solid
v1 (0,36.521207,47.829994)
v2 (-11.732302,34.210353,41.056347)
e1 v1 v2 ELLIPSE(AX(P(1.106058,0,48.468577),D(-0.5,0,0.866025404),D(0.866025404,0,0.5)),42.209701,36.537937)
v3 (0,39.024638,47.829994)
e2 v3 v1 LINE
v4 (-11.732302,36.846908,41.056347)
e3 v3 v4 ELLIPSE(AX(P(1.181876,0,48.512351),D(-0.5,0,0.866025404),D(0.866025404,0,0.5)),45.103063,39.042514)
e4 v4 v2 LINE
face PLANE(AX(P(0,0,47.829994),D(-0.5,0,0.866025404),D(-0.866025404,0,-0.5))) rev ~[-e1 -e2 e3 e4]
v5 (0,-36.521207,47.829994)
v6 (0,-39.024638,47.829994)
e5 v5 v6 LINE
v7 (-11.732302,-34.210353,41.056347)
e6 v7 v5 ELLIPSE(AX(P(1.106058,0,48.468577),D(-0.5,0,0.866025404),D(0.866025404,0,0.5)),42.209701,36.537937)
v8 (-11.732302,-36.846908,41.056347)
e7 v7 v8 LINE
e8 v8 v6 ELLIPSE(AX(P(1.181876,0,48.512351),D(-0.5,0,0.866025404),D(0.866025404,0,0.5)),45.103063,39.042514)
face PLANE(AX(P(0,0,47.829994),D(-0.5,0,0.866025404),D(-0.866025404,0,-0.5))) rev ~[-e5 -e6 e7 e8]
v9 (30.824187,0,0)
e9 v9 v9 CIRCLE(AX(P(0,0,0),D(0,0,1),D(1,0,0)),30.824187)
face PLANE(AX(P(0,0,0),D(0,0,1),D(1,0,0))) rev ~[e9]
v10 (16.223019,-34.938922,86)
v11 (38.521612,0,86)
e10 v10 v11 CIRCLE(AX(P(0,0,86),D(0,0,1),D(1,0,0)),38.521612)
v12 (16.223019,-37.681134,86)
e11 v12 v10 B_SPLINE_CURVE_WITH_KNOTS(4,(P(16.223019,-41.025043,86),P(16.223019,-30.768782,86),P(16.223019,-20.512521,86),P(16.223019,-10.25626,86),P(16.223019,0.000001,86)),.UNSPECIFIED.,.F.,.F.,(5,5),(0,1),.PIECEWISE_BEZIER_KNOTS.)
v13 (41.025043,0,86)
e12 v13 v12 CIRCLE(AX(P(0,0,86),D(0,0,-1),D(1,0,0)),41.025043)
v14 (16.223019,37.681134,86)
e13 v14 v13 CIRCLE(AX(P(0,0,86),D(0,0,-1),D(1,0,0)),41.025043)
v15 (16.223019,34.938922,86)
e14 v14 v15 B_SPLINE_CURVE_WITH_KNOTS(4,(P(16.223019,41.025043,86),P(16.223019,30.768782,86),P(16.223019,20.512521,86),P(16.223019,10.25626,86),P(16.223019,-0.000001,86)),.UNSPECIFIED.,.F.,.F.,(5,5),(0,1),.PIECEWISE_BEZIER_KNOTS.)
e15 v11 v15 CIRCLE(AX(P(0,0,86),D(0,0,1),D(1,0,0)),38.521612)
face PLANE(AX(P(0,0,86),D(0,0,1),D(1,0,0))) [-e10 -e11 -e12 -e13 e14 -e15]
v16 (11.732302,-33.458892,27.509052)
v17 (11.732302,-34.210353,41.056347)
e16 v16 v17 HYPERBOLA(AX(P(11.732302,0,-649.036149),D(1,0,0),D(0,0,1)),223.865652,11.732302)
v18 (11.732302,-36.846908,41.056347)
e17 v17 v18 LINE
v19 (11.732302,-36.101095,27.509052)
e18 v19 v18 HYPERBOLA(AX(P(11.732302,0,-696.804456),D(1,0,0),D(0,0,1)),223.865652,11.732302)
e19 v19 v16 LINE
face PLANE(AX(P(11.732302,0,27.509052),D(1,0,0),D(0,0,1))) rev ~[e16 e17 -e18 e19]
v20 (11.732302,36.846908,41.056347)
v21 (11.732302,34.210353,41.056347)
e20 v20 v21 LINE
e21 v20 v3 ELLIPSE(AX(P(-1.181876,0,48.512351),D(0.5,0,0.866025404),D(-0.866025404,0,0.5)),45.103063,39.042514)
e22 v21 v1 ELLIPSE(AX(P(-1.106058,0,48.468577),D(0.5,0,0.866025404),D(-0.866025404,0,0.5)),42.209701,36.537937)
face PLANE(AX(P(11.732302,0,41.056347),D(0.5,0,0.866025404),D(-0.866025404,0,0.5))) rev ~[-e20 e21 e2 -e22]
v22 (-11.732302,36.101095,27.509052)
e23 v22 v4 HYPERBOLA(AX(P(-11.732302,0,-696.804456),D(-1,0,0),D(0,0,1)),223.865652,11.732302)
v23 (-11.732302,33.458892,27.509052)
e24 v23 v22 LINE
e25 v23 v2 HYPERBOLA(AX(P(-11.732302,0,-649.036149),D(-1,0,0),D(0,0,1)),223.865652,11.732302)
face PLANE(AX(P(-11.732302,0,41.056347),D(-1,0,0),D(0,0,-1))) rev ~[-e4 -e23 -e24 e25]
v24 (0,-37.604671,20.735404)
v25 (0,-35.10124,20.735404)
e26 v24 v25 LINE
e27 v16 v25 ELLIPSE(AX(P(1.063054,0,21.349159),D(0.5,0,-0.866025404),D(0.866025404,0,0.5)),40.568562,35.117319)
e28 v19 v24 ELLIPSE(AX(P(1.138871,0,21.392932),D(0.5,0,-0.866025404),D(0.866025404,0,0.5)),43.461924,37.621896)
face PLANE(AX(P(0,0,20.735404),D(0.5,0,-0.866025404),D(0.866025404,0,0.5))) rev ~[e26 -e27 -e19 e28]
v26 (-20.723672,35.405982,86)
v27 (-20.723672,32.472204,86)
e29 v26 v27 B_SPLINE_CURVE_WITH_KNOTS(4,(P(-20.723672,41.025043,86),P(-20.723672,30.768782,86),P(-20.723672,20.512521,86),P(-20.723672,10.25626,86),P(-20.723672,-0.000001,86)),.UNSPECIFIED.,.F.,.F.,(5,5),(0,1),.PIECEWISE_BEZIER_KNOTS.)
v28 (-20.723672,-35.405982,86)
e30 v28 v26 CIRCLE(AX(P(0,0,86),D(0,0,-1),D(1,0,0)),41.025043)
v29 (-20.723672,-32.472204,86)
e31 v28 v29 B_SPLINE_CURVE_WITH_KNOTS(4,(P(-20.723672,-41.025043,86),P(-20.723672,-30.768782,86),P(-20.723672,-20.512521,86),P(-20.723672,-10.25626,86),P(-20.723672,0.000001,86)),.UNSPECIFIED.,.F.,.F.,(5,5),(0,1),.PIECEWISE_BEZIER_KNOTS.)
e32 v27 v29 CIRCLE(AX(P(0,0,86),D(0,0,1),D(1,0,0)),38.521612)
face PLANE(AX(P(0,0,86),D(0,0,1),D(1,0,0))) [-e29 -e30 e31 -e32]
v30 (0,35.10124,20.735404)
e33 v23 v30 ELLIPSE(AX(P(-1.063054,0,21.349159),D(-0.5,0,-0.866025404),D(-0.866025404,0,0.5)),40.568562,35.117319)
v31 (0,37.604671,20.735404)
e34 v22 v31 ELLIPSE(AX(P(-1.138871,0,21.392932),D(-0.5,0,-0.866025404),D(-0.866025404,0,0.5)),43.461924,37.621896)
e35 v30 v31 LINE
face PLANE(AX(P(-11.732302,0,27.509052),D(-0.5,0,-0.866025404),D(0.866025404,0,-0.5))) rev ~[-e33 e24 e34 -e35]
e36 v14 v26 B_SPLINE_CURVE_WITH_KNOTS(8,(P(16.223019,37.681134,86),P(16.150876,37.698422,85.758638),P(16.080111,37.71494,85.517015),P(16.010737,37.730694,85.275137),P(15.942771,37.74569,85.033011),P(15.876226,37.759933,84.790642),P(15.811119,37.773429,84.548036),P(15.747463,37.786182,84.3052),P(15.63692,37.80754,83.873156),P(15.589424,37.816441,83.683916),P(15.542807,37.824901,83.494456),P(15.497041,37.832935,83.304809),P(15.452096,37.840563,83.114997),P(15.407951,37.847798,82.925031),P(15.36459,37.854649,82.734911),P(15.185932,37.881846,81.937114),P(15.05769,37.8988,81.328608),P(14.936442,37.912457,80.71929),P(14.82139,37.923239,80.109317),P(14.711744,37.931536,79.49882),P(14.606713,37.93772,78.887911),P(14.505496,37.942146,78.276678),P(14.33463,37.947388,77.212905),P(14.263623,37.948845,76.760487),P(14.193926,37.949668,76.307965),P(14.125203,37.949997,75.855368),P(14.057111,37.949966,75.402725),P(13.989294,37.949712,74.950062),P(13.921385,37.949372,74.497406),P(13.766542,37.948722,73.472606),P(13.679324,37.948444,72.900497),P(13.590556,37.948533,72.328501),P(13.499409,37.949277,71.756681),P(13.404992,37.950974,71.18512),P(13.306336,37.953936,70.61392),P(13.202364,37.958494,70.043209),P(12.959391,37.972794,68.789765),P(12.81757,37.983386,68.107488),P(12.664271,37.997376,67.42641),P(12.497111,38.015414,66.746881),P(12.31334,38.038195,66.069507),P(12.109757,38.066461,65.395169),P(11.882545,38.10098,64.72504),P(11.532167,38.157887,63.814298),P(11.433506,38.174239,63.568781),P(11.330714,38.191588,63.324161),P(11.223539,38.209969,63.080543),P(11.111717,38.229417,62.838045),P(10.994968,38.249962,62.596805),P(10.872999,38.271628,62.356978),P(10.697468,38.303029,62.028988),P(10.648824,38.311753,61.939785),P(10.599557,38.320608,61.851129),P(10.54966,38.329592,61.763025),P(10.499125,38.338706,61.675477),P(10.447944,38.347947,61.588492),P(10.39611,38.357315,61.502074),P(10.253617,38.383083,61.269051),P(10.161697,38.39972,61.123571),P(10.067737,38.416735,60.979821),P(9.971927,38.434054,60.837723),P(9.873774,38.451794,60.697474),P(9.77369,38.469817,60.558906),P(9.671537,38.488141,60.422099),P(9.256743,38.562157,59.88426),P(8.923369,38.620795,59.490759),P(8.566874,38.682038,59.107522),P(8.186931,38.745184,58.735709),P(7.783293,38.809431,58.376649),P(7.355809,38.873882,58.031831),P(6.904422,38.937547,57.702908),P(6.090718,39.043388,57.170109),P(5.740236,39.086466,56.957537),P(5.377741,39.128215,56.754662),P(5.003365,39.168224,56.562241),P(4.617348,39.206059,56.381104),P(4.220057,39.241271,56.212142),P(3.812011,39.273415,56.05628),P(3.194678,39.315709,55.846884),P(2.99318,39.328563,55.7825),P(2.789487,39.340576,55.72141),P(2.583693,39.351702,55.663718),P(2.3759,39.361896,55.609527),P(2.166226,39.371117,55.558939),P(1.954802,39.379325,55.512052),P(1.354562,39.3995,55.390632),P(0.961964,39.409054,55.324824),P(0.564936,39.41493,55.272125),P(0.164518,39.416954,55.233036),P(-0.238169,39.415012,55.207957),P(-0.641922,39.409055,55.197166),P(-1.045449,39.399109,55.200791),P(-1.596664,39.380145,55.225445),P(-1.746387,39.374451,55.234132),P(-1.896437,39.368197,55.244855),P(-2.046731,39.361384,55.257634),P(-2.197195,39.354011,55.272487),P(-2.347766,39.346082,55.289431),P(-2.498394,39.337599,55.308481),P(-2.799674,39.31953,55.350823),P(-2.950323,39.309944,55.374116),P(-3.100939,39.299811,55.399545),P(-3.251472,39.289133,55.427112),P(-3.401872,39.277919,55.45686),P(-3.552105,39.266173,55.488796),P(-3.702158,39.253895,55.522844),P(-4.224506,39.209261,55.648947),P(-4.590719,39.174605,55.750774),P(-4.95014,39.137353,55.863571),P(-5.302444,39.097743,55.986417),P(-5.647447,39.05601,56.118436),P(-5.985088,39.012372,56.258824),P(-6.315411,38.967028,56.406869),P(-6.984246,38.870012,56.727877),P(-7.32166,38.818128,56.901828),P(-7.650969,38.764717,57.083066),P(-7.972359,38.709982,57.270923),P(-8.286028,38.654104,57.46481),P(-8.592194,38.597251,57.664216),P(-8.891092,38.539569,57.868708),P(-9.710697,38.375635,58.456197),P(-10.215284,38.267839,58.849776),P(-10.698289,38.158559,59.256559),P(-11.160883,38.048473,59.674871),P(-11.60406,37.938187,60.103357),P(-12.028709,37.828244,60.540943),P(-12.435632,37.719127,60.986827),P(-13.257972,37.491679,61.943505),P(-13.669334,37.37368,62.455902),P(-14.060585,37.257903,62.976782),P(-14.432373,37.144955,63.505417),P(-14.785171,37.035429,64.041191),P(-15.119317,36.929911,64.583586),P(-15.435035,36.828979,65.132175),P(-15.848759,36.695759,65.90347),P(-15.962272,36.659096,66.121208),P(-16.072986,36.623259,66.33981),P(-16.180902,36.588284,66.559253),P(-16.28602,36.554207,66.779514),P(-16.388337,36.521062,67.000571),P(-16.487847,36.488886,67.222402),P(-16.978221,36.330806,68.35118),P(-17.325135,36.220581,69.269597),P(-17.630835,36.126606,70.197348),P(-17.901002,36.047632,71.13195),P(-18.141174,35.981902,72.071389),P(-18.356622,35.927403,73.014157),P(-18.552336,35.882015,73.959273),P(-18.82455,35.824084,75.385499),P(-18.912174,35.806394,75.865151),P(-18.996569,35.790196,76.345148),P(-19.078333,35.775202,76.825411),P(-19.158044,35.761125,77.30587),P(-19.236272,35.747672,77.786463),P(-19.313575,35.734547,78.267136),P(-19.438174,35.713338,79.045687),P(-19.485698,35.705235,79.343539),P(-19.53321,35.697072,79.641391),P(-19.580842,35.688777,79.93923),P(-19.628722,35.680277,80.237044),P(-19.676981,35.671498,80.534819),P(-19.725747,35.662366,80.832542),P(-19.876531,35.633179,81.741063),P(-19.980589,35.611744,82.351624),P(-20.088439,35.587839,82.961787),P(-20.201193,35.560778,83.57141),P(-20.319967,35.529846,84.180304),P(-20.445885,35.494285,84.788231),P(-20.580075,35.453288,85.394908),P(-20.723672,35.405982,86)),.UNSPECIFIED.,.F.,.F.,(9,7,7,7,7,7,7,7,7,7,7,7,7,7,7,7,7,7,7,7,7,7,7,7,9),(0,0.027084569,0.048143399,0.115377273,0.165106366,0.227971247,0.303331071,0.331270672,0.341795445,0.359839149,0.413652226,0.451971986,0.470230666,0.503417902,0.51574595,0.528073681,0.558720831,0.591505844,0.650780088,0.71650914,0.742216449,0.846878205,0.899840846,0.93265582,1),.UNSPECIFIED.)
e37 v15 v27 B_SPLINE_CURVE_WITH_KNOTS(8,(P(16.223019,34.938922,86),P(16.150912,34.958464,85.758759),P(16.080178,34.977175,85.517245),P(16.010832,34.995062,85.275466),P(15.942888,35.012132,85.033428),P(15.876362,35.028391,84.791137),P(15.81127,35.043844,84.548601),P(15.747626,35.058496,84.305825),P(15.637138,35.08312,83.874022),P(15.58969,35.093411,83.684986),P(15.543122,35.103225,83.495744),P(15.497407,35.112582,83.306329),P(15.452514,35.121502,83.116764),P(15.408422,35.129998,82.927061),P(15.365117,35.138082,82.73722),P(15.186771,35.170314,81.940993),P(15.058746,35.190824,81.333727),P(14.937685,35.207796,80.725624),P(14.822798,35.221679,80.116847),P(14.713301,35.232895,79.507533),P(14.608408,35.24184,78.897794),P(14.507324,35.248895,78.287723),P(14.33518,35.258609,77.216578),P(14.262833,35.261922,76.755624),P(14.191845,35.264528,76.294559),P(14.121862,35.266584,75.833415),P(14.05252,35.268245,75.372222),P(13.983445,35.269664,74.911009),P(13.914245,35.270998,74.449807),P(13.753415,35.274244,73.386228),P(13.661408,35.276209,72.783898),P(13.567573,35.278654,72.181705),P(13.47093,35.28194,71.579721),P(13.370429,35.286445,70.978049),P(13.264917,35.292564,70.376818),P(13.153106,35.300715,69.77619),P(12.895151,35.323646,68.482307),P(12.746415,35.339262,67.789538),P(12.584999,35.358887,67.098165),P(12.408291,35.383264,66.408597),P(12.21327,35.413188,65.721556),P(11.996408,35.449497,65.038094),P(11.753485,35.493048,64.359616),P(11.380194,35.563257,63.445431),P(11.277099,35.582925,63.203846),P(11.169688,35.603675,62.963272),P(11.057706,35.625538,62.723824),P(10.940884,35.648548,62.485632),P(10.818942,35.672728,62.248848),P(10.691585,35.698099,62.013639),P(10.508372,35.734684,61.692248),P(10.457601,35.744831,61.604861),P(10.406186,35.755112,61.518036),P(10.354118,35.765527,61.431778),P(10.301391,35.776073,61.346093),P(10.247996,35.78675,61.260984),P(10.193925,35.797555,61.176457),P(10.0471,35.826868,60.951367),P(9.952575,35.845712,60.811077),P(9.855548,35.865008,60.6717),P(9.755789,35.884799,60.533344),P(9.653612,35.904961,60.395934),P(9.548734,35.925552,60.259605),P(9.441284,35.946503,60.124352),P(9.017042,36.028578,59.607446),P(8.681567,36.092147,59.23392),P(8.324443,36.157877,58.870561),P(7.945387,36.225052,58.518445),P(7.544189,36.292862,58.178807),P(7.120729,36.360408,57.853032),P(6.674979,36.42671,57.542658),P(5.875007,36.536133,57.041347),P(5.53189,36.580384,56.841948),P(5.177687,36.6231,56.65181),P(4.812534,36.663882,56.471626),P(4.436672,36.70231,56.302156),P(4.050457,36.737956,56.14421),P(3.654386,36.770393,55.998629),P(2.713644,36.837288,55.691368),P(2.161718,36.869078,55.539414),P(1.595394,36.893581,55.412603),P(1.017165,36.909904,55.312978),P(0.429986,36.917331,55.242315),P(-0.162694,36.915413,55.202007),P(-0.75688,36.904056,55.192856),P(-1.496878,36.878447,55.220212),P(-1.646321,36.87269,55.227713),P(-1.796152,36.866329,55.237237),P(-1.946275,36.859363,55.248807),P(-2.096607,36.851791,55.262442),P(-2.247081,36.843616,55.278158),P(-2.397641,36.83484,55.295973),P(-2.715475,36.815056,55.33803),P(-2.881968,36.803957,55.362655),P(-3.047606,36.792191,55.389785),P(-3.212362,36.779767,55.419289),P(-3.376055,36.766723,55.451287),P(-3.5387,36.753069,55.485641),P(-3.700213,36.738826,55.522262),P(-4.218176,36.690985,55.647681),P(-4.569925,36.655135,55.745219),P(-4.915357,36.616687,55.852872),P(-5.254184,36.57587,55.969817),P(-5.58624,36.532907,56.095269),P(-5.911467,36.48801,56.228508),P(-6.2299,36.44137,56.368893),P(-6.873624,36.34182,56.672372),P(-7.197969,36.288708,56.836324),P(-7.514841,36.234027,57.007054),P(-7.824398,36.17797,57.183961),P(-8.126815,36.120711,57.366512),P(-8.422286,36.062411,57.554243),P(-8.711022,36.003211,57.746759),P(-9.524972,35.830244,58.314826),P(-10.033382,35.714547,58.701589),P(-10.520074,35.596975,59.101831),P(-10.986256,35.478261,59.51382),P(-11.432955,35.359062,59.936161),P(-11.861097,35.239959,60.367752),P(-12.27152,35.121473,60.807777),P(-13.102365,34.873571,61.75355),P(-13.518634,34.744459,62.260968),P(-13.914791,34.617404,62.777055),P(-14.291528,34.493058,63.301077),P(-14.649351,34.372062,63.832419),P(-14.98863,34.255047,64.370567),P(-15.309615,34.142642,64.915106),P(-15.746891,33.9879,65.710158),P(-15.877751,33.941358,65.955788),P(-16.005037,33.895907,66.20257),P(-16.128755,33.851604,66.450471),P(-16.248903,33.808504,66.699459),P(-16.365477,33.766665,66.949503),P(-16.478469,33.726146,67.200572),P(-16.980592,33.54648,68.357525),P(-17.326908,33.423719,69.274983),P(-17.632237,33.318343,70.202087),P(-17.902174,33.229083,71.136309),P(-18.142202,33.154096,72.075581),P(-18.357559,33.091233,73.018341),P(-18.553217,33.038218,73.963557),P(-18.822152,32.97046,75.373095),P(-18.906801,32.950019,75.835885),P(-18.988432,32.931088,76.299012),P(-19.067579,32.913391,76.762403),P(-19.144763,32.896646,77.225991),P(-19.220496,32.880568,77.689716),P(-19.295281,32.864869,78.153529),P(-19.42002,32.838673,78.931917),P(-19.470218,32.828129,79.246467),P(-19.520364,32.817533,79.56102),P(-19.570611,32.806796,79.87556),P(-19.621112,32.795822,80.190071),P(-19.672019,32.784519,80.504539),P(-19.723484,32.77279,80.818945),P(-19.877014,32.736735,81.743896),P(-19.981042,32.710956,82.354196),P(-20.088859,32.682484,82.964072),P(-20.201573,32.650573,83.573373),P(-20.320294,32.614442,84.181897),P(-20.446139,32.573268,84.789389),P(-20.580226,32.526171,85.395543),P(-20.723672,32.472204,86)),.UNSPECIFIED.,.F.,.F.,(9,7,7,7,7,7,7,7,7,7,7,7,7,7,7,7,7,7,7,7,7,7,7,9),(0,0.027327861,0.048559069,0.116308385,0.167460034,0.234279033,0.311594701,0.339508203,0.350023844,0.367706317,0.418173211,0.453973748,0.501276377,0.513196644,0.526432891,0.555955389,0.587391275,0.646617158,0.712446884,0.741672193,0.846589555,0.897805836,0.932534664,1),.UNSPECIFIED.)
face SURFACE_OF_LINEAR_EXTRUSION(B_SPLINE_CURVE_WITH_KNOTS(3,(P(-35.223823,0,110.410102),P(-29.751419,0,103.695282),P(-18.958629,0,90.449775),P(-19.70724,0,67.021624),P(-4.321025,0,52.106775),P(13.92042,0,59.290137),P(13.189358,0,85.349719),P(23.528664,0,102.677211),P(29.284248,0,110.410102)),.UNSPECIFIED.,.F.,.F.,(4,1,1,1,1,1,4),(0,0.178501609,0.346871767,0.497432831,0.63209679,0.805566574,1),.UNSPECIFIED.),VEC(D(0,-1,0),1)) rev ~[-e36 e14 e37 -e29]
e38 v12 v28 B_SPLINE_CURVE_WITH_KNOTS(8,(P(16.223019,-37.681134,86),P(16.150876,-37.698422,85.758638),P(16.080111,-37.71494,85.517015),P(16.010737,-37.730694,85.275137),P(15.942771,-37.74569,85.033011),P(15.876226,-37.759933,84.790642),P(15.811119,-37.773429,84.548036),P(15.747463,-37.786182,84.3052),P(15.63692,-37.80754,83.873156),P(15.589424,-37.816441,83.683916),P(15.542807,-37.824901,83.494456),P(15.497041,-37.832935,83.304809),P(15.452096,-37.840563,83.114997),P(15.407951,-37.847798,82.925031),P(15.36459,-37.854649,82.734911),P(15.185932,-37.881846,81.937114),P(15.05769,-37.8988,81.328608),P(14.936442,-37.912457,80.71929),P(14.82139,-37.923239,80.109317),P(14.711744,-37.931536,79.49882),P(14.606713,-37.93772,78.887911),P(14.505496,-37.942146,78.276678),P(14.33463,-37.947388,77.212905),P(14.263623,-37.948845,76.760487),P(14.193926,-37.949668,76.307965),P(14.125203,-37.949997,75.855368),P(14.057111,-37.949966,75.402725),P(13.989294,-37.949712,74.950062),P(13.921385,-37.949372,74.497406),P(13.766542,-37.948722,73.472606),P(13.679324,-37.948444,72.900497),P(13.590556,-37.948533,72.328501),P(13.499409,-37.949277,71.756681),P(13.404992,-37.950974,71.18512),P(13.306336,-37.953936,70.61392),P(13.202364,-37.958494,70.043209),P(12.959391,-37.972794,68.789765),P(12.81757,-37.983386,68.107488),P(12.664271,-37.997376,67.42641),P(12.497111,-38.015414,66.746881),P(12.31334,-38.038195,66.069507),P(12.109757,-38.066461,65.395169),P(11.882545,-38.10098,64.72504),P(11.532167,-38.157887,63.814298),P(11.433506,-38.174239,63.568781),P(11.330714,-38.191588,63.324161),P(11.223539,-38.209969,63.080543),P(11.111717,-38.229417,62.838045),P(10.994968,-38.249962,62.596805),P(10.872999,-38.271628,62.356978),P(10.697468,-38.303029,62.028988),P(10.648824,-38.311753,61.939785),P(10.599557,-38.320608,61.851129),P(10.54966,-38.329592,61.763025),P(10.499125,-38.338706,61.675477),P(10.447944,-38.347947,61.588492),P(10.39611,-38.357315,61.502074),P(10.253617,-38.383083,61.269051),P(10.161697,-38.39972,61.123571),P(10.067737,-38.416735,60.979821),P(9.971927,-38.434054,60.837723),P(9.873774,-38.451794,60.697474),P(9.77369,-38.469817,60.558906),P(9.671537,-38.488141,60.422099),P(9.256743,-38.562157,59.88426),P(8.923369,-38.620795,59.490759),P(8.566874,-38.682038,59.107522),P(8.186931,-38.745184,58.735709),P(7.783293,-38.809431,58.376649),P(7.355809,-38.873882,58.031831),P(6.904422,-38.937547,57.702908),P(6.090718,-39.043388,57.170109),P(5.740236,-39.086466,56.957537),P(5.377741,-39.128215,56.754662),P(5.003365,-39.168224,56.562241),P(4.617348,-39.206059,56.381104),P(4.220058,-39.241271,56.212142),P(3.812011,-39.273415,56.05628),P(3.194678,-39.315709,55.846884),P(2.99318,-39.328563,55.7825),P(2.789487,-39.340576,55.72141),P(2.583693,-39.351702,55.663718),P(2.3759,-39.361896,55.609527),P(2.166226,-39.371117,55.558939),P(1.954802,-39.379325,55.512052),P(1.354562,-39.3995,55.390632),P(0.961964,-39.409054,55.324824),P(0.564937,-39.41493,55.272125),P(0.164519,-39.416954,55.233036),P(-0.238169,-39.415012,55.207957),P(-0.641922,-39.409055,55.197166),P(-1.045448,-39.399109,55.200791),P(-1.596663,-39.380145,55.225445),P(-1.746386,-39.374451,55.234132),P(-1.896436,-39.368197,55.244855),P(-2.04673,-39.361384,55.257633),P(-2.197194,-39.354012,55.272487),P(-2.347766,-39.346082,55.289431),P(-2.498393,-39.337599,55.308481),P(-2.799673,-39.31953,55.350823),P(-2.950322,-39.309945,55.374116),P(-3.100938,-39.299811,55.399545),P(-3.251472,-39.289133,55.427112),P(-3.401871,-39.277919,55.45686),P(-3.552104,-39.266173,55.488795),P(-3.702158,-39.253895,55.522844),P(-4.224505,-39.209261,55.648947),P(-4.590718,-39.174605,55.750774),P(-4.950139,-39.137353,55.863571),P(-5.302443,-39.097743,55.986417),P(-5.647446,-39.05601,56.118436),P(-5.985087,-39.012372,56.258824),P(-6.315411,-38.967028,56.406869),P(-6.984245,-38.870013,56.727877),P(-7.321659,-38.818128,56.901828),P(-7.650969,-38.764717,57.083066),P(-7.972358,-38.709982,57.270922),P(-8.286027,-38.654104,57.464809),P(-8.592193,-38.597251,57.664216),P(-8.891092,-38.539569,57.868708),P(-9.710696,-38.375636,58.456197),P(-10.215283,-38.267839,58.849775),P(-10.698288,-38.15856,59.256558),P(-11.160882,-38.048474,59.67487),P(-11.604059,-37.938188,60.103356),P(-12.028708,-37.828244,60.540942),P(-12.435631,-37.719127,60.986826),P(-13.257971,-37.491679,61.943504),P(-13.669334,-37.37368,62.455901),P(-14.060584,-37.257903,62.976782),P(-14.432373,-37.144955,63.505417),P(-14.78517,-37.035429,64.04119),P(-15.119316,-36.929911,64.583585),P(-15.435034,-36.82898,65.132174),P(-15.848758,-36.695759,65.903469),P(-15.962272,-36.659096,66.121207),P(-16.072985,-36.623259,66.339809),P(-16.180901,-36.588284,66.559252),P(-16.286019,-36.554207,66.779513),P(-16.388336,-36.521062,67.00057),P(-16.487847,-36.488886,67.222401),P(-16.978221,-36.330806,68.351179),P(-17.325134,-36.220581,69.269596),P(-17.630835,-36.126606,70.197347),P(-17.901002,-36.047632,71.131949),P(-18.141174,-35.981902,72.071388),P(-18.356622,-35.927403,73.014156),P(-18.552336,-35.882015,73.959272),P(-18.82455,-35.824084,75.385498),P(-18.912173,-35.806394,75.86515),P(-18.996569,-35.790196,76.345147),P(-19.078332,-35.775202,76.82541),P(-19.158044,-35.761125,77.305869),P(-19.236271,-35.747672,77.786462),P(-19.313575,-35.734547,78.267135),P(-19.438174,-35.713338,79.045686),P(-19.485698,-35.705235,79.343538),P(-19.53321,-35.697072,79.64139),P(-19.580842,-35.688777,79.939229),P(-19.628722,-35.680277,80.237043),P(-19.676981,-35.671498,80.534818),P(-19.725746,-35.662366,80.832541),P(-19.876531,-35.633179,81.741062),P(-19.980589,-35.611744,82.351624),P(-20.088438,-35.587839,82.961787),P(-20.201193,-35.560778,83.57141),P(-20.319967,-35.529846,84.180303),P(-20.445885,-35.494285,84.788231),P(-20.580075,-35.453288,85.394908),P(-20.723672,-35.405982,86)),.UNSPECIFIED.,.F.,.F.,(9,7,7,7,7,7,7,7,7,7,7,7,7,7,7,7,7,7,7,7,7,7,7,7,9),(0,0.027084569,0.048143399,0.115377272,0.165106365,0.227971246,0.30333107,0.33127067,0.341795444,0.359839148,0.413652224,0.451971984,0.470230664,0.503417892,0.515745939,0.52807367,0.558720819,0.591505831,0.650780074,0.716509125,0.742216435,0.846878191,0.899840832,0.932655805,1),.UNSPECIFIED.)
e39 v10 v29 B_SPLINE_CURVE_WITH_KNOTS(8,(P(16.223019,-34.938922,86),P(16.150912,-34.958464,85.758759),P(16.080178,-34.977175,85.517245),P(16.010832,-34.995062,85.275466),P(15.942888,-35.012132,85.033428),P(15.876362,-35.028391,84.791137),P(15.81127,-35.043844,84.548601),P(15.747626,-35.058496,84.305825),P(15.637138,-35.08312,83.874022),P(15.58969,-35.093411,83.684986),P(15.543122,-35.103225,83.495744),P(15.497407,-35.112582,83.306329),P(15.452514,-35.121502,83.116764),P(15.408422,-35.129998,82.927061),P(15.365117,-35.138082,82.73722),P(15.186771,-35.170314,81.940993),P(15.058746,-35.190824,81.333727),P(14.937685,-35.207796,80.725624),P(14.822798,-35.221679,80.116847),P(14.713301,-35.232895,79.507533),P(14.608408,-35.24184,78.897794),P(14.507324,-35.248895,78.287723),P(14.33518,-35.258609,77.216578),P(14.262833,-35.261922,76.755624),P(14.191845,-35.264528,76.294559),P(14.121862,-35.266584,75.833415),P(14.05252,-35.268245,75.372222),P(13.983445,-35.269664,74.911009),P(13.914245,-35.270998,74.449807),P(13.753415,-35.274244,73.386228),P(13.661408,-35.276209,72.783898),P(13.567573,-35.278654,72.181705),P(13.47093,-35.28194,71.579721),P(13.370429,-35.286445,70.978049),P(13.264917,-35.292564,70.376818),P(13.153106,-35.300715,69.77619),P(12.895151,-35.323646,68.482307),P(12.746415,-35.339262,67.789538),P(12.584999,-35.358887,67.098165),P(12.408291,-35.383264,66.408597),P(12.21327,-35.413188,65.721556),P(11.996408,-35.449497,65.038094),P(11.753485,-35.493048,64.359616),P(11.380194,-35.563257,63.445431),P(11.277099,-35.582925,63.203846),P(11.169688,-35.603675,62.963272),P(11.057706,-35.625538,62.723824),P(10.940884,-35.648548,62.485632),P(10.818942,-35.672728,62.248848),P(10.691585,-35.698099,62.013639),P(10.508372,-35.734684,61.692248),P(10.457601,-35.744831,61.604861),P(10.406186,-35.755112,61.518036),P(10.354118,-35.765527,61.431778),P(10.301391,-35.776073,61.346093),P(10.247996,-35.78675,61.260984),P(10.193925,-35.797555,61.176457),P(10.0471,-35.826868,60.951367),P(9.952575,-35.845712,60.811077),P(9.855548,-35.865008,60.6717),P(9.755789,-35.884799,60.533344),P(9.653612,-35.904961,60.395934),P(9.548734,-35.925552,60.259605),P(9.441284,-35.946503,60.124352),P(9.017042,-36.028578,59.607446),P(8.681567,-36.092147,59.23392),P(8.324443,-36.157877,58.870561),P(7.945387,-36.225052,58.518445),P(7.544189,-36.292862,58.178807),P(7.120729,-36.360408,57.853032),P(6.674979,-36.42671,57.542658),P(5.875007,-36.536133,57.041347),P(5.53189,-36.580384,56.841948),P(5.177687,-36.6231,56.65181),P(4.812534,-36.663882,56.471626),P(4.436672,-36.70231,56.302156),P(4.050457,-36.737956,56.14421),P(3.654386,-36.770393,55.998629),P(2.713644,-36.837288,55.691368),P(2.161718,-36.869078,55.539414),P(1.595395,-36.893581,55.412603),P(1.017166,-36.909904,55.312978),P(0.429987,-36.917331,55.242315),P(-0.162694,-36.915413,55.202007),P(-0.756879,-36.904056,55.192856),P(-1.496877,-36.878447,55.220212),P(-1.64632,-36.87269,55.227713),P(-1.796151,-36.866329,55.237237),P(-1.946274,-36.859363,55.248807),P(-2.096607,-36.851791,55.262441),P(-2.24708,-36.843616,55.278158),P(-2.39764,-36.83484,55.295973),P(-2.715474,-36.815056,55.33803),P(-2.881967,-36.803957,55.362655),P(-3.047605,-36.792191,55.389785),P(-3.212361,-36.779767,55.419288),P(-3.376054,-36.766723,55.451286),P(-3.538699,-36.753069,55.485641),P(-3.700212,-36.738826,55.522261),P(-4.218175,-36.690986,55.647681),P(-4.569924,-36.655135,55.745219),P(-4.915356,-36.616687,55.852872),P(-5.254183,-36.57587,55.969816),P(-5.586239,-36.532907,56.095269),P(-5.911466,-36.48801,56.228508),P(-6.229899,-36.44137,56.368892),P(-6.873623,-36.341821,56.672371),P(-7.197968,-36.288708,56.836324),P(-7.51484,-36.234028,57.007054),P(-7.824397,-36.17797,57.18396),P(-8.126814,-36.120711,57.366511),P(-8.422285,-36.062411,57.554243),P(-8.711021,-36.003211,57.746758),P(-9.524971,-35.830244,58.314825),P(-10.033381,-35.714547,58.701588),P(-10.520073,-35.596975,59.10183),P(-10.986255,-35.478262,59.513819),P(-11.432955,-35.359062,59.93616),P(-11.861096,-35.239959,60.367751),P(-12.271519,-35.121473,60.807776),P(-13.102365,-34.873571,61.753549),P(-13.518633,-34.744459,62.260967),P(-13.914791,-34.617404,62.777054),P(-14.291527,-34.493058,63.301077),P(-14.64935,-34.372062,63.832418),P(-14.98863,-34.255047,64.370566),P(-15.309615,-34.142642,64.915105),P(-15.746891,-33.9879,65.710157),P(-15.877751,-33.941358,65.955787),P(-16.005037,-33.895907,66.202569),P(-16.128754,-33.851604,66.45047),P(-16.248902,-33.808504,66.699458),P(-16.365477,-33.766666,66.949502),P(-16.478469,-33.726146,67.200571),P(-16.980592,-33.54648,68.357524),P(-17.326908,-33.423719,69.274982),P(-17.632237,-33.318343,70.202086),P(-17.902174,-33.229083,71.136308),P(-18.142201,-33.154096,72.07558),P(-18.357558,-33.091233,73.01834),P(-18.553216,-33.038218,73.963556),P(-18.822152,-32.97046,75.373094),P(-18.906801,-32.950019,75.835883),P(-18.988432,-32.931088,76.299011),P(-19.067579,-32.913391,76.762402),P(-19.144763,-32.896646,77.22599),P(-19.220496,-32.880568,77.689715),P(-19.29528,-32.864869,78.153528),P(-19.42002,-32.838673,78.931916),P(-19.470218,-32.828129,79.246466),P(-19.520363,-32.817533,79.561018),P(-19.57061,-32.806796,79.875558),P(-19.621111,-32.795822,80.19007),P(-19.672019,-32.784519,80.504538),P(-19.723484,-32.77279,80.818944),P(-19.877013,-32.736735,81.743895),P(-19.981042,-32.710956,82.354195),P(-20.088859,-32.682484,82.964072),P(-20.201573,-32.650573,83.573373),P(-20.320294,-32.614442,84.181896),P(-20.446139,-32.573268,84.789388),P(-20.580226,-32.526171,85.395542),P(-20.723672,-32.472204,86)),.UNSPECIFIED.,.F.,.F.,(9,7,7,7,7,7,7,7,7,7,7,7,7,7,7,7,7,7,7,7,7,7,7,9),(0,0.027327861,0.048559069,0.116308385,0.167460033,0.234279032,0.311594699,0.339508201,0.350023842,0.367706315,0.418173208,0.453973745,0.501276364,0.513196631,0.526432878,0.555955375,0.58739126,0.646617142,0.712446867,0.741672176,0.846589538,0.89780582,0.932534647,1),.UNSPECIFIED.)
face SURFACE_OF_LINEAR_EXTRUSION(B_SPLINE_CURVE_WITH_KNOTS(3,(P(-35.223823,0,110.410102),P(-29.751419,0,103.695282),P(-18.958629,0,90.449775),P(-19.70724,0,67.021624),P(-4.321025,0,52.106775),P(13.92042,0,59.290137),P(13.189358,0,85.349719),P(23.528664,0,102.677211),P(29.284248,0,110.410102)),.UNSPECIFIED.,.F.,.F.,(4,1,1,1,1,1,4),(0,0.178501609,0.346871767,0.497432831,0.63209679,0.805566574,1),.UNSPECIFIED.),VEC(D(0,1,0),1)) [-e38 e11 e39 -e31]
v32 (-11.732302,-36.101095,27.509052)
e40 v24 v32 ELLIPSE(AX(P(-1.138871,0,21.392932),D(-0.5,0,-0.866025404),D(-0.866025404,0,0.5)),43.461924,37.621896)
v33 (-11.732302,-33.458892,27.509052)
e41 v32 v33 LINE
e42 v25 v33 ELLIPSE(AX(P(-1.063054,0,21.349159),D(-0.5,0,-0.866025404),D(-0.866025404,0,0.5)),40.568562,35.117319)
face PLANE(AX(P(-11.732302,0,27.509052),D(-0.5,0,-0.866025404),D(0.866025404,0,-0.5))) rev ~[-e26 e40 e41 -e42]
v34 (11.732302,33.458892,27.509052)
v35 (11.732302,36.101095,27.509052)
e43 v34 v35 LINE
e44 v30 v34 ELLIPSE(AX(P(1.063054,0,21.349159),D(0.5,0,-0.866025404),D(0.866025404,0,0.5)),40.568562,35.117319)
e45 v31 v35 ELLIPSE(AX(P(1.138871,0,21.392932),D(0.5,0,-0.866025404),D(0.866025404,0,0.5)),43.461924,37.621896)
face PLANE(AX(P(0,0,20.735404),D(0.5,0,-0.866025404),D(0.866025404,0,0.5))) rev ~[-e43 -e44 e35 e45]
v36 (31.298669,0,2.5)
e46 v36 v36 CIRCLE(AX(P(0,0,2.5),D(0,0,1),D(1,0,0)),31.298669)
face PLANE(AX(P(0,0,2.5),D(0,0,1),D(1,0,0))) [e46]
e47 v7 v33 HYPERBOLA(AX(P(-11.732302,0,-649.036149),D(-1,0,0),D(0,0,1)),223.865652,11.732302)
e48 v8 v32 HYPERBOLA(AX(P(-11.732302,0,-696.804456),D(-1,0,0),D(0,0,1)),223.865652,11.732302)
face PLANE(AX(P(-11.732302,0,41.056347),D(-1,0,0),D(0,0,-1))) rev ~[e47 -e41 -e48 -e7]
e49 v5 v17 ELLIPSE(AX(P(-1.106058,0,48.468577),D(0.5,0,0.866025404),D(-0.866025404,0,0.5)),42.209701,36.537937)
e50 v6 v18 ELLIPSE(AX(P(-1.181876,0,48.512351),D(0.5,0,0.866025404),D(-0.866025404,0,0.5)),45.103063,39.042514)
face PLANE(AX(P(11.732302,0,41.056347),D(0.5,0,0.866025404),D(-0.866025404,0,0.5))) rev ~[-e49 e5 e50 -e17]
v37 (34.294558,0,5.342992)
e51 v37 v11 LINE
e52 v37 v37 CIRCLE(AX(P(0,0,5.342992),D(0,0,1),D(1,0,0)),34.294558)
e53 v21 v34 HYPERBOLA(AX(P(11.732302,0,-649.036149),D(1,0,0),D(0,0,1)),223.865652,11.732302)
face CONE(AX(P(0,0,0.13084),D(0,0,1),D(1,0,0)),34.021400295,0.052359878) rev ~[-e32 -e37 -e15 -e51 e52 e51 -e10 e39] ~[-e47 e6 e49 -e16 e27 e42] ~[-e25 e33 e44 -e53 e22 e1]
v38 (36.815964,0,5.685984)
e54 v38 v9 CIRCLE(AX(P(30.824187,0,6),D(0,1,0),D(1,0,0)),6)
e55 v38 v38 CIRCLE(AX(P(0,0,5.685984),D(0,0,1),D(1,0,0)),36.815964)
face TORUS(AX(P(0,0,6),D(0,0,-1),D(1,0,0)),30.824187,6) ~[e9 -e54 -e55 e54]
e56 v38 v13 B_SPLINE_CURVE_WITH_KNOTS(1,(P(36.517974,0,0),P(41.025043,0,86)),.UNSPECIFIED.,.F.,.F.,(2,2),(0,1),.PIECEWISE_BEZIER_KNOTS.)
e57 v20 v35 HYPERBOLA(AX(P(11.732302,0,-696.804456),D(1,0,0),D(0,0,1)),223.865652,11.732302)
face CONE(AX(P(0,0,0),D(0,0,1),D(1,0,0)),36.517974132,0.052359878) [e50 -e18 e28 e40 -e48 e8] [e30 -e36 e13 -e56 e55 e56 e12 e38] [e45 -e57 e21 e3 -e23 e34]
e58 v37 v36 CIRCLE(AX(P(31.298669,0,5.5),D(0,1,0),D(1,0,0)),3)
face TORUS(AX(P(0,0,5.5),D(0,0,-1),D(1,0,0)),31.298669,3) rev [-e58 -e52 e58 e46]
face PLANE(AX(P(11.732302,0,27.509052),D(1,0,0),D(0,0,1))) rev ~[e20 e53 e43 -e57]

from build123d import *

# Parameters (mm, degrees)
F0_R     = 36.5179741317
F1_DEPTH = 86
F1_TAPER = -3
F2_T     = -2.5
F4_DEPTH = 67.6
F6_DEPTH = 101
F7_R     = 3
F8_R     = 6


with BuildPart() as f1:
    # F0 (on Top) → F1 (new body)
    with BuildSketch(Plane.XY):
        Circle(F0_R)
    extrude(amount=F1_DEPTH, taper=F1_TAPER)

    # F2
    f2_openings = [f1.faces().sort_by_distance(p)[0] for p in [
        (0, 0, 86),
    ]]
    offset(amount=F2_T, openings=f2_openings, kind=Kind.INTERSECTION)

    # F3 (on Front) → F4 (cut, symmetric)
    with BuildSketch(Plane.XZ):
        Polygon((11.7323016748, 27.5090516972), (11.7323016748, 41.0563467575), (0, 47.8299942876), (-11.7323016748, 41.0563467575), (-11.7323016748, 27.5090516972), (0, 20.735404167), align=None)
    extrude(amount=F4_DEPTH, both=True, mode=Mode.SUBTRACT)

    # F5 (on Front) → F6 (cut, symmetric)
    with BuildSketch(Plane.XZ):
        with BuildLine():
            Line((29.2842475001, 110.4101017118), (-35.2238230407, 110.4101017118))
            add(Edge.make_bspline(
                [(-35.2238230407, 110.4101017118), (-29.7514190862, 103.6952824897), (-18.9586292348, 90.4497753083), (-19.7072395408, 67.0216235894), (-4.321025151, 52.1067751561), (13.9204202649, 59.2901365819), (13.1893577046, 85.3497190624), (23.5286639854, 102.6772105116), (29.2842475001, 110.4101017118)],
                knots=[0, 0, 0, 0, 0.1785016092, 0.346871767, 0.4974328306, 0.6320967895, 0.8055665743, 1, 1, 1, 1], degree=3))
        make_face()
    extrude(amount=F6_DEPTH, both=True, mode=Mode.SUBTRACT)

    # F7
    f7_edges = [f1.edges().sort_by_distance(p)[0] for p in [
        (-34.145563, 0, 2.5),
    ]]
    fillet(f7_edges, radius=F7_R)

    # F8
    f8_edges = [f1.edges().sort_by_distance(p)[0] for p in [
        (-36.517974, 0, 0),
    ]]
    fillet(f8_edges, radius=F8_R)


solid = f1.part
